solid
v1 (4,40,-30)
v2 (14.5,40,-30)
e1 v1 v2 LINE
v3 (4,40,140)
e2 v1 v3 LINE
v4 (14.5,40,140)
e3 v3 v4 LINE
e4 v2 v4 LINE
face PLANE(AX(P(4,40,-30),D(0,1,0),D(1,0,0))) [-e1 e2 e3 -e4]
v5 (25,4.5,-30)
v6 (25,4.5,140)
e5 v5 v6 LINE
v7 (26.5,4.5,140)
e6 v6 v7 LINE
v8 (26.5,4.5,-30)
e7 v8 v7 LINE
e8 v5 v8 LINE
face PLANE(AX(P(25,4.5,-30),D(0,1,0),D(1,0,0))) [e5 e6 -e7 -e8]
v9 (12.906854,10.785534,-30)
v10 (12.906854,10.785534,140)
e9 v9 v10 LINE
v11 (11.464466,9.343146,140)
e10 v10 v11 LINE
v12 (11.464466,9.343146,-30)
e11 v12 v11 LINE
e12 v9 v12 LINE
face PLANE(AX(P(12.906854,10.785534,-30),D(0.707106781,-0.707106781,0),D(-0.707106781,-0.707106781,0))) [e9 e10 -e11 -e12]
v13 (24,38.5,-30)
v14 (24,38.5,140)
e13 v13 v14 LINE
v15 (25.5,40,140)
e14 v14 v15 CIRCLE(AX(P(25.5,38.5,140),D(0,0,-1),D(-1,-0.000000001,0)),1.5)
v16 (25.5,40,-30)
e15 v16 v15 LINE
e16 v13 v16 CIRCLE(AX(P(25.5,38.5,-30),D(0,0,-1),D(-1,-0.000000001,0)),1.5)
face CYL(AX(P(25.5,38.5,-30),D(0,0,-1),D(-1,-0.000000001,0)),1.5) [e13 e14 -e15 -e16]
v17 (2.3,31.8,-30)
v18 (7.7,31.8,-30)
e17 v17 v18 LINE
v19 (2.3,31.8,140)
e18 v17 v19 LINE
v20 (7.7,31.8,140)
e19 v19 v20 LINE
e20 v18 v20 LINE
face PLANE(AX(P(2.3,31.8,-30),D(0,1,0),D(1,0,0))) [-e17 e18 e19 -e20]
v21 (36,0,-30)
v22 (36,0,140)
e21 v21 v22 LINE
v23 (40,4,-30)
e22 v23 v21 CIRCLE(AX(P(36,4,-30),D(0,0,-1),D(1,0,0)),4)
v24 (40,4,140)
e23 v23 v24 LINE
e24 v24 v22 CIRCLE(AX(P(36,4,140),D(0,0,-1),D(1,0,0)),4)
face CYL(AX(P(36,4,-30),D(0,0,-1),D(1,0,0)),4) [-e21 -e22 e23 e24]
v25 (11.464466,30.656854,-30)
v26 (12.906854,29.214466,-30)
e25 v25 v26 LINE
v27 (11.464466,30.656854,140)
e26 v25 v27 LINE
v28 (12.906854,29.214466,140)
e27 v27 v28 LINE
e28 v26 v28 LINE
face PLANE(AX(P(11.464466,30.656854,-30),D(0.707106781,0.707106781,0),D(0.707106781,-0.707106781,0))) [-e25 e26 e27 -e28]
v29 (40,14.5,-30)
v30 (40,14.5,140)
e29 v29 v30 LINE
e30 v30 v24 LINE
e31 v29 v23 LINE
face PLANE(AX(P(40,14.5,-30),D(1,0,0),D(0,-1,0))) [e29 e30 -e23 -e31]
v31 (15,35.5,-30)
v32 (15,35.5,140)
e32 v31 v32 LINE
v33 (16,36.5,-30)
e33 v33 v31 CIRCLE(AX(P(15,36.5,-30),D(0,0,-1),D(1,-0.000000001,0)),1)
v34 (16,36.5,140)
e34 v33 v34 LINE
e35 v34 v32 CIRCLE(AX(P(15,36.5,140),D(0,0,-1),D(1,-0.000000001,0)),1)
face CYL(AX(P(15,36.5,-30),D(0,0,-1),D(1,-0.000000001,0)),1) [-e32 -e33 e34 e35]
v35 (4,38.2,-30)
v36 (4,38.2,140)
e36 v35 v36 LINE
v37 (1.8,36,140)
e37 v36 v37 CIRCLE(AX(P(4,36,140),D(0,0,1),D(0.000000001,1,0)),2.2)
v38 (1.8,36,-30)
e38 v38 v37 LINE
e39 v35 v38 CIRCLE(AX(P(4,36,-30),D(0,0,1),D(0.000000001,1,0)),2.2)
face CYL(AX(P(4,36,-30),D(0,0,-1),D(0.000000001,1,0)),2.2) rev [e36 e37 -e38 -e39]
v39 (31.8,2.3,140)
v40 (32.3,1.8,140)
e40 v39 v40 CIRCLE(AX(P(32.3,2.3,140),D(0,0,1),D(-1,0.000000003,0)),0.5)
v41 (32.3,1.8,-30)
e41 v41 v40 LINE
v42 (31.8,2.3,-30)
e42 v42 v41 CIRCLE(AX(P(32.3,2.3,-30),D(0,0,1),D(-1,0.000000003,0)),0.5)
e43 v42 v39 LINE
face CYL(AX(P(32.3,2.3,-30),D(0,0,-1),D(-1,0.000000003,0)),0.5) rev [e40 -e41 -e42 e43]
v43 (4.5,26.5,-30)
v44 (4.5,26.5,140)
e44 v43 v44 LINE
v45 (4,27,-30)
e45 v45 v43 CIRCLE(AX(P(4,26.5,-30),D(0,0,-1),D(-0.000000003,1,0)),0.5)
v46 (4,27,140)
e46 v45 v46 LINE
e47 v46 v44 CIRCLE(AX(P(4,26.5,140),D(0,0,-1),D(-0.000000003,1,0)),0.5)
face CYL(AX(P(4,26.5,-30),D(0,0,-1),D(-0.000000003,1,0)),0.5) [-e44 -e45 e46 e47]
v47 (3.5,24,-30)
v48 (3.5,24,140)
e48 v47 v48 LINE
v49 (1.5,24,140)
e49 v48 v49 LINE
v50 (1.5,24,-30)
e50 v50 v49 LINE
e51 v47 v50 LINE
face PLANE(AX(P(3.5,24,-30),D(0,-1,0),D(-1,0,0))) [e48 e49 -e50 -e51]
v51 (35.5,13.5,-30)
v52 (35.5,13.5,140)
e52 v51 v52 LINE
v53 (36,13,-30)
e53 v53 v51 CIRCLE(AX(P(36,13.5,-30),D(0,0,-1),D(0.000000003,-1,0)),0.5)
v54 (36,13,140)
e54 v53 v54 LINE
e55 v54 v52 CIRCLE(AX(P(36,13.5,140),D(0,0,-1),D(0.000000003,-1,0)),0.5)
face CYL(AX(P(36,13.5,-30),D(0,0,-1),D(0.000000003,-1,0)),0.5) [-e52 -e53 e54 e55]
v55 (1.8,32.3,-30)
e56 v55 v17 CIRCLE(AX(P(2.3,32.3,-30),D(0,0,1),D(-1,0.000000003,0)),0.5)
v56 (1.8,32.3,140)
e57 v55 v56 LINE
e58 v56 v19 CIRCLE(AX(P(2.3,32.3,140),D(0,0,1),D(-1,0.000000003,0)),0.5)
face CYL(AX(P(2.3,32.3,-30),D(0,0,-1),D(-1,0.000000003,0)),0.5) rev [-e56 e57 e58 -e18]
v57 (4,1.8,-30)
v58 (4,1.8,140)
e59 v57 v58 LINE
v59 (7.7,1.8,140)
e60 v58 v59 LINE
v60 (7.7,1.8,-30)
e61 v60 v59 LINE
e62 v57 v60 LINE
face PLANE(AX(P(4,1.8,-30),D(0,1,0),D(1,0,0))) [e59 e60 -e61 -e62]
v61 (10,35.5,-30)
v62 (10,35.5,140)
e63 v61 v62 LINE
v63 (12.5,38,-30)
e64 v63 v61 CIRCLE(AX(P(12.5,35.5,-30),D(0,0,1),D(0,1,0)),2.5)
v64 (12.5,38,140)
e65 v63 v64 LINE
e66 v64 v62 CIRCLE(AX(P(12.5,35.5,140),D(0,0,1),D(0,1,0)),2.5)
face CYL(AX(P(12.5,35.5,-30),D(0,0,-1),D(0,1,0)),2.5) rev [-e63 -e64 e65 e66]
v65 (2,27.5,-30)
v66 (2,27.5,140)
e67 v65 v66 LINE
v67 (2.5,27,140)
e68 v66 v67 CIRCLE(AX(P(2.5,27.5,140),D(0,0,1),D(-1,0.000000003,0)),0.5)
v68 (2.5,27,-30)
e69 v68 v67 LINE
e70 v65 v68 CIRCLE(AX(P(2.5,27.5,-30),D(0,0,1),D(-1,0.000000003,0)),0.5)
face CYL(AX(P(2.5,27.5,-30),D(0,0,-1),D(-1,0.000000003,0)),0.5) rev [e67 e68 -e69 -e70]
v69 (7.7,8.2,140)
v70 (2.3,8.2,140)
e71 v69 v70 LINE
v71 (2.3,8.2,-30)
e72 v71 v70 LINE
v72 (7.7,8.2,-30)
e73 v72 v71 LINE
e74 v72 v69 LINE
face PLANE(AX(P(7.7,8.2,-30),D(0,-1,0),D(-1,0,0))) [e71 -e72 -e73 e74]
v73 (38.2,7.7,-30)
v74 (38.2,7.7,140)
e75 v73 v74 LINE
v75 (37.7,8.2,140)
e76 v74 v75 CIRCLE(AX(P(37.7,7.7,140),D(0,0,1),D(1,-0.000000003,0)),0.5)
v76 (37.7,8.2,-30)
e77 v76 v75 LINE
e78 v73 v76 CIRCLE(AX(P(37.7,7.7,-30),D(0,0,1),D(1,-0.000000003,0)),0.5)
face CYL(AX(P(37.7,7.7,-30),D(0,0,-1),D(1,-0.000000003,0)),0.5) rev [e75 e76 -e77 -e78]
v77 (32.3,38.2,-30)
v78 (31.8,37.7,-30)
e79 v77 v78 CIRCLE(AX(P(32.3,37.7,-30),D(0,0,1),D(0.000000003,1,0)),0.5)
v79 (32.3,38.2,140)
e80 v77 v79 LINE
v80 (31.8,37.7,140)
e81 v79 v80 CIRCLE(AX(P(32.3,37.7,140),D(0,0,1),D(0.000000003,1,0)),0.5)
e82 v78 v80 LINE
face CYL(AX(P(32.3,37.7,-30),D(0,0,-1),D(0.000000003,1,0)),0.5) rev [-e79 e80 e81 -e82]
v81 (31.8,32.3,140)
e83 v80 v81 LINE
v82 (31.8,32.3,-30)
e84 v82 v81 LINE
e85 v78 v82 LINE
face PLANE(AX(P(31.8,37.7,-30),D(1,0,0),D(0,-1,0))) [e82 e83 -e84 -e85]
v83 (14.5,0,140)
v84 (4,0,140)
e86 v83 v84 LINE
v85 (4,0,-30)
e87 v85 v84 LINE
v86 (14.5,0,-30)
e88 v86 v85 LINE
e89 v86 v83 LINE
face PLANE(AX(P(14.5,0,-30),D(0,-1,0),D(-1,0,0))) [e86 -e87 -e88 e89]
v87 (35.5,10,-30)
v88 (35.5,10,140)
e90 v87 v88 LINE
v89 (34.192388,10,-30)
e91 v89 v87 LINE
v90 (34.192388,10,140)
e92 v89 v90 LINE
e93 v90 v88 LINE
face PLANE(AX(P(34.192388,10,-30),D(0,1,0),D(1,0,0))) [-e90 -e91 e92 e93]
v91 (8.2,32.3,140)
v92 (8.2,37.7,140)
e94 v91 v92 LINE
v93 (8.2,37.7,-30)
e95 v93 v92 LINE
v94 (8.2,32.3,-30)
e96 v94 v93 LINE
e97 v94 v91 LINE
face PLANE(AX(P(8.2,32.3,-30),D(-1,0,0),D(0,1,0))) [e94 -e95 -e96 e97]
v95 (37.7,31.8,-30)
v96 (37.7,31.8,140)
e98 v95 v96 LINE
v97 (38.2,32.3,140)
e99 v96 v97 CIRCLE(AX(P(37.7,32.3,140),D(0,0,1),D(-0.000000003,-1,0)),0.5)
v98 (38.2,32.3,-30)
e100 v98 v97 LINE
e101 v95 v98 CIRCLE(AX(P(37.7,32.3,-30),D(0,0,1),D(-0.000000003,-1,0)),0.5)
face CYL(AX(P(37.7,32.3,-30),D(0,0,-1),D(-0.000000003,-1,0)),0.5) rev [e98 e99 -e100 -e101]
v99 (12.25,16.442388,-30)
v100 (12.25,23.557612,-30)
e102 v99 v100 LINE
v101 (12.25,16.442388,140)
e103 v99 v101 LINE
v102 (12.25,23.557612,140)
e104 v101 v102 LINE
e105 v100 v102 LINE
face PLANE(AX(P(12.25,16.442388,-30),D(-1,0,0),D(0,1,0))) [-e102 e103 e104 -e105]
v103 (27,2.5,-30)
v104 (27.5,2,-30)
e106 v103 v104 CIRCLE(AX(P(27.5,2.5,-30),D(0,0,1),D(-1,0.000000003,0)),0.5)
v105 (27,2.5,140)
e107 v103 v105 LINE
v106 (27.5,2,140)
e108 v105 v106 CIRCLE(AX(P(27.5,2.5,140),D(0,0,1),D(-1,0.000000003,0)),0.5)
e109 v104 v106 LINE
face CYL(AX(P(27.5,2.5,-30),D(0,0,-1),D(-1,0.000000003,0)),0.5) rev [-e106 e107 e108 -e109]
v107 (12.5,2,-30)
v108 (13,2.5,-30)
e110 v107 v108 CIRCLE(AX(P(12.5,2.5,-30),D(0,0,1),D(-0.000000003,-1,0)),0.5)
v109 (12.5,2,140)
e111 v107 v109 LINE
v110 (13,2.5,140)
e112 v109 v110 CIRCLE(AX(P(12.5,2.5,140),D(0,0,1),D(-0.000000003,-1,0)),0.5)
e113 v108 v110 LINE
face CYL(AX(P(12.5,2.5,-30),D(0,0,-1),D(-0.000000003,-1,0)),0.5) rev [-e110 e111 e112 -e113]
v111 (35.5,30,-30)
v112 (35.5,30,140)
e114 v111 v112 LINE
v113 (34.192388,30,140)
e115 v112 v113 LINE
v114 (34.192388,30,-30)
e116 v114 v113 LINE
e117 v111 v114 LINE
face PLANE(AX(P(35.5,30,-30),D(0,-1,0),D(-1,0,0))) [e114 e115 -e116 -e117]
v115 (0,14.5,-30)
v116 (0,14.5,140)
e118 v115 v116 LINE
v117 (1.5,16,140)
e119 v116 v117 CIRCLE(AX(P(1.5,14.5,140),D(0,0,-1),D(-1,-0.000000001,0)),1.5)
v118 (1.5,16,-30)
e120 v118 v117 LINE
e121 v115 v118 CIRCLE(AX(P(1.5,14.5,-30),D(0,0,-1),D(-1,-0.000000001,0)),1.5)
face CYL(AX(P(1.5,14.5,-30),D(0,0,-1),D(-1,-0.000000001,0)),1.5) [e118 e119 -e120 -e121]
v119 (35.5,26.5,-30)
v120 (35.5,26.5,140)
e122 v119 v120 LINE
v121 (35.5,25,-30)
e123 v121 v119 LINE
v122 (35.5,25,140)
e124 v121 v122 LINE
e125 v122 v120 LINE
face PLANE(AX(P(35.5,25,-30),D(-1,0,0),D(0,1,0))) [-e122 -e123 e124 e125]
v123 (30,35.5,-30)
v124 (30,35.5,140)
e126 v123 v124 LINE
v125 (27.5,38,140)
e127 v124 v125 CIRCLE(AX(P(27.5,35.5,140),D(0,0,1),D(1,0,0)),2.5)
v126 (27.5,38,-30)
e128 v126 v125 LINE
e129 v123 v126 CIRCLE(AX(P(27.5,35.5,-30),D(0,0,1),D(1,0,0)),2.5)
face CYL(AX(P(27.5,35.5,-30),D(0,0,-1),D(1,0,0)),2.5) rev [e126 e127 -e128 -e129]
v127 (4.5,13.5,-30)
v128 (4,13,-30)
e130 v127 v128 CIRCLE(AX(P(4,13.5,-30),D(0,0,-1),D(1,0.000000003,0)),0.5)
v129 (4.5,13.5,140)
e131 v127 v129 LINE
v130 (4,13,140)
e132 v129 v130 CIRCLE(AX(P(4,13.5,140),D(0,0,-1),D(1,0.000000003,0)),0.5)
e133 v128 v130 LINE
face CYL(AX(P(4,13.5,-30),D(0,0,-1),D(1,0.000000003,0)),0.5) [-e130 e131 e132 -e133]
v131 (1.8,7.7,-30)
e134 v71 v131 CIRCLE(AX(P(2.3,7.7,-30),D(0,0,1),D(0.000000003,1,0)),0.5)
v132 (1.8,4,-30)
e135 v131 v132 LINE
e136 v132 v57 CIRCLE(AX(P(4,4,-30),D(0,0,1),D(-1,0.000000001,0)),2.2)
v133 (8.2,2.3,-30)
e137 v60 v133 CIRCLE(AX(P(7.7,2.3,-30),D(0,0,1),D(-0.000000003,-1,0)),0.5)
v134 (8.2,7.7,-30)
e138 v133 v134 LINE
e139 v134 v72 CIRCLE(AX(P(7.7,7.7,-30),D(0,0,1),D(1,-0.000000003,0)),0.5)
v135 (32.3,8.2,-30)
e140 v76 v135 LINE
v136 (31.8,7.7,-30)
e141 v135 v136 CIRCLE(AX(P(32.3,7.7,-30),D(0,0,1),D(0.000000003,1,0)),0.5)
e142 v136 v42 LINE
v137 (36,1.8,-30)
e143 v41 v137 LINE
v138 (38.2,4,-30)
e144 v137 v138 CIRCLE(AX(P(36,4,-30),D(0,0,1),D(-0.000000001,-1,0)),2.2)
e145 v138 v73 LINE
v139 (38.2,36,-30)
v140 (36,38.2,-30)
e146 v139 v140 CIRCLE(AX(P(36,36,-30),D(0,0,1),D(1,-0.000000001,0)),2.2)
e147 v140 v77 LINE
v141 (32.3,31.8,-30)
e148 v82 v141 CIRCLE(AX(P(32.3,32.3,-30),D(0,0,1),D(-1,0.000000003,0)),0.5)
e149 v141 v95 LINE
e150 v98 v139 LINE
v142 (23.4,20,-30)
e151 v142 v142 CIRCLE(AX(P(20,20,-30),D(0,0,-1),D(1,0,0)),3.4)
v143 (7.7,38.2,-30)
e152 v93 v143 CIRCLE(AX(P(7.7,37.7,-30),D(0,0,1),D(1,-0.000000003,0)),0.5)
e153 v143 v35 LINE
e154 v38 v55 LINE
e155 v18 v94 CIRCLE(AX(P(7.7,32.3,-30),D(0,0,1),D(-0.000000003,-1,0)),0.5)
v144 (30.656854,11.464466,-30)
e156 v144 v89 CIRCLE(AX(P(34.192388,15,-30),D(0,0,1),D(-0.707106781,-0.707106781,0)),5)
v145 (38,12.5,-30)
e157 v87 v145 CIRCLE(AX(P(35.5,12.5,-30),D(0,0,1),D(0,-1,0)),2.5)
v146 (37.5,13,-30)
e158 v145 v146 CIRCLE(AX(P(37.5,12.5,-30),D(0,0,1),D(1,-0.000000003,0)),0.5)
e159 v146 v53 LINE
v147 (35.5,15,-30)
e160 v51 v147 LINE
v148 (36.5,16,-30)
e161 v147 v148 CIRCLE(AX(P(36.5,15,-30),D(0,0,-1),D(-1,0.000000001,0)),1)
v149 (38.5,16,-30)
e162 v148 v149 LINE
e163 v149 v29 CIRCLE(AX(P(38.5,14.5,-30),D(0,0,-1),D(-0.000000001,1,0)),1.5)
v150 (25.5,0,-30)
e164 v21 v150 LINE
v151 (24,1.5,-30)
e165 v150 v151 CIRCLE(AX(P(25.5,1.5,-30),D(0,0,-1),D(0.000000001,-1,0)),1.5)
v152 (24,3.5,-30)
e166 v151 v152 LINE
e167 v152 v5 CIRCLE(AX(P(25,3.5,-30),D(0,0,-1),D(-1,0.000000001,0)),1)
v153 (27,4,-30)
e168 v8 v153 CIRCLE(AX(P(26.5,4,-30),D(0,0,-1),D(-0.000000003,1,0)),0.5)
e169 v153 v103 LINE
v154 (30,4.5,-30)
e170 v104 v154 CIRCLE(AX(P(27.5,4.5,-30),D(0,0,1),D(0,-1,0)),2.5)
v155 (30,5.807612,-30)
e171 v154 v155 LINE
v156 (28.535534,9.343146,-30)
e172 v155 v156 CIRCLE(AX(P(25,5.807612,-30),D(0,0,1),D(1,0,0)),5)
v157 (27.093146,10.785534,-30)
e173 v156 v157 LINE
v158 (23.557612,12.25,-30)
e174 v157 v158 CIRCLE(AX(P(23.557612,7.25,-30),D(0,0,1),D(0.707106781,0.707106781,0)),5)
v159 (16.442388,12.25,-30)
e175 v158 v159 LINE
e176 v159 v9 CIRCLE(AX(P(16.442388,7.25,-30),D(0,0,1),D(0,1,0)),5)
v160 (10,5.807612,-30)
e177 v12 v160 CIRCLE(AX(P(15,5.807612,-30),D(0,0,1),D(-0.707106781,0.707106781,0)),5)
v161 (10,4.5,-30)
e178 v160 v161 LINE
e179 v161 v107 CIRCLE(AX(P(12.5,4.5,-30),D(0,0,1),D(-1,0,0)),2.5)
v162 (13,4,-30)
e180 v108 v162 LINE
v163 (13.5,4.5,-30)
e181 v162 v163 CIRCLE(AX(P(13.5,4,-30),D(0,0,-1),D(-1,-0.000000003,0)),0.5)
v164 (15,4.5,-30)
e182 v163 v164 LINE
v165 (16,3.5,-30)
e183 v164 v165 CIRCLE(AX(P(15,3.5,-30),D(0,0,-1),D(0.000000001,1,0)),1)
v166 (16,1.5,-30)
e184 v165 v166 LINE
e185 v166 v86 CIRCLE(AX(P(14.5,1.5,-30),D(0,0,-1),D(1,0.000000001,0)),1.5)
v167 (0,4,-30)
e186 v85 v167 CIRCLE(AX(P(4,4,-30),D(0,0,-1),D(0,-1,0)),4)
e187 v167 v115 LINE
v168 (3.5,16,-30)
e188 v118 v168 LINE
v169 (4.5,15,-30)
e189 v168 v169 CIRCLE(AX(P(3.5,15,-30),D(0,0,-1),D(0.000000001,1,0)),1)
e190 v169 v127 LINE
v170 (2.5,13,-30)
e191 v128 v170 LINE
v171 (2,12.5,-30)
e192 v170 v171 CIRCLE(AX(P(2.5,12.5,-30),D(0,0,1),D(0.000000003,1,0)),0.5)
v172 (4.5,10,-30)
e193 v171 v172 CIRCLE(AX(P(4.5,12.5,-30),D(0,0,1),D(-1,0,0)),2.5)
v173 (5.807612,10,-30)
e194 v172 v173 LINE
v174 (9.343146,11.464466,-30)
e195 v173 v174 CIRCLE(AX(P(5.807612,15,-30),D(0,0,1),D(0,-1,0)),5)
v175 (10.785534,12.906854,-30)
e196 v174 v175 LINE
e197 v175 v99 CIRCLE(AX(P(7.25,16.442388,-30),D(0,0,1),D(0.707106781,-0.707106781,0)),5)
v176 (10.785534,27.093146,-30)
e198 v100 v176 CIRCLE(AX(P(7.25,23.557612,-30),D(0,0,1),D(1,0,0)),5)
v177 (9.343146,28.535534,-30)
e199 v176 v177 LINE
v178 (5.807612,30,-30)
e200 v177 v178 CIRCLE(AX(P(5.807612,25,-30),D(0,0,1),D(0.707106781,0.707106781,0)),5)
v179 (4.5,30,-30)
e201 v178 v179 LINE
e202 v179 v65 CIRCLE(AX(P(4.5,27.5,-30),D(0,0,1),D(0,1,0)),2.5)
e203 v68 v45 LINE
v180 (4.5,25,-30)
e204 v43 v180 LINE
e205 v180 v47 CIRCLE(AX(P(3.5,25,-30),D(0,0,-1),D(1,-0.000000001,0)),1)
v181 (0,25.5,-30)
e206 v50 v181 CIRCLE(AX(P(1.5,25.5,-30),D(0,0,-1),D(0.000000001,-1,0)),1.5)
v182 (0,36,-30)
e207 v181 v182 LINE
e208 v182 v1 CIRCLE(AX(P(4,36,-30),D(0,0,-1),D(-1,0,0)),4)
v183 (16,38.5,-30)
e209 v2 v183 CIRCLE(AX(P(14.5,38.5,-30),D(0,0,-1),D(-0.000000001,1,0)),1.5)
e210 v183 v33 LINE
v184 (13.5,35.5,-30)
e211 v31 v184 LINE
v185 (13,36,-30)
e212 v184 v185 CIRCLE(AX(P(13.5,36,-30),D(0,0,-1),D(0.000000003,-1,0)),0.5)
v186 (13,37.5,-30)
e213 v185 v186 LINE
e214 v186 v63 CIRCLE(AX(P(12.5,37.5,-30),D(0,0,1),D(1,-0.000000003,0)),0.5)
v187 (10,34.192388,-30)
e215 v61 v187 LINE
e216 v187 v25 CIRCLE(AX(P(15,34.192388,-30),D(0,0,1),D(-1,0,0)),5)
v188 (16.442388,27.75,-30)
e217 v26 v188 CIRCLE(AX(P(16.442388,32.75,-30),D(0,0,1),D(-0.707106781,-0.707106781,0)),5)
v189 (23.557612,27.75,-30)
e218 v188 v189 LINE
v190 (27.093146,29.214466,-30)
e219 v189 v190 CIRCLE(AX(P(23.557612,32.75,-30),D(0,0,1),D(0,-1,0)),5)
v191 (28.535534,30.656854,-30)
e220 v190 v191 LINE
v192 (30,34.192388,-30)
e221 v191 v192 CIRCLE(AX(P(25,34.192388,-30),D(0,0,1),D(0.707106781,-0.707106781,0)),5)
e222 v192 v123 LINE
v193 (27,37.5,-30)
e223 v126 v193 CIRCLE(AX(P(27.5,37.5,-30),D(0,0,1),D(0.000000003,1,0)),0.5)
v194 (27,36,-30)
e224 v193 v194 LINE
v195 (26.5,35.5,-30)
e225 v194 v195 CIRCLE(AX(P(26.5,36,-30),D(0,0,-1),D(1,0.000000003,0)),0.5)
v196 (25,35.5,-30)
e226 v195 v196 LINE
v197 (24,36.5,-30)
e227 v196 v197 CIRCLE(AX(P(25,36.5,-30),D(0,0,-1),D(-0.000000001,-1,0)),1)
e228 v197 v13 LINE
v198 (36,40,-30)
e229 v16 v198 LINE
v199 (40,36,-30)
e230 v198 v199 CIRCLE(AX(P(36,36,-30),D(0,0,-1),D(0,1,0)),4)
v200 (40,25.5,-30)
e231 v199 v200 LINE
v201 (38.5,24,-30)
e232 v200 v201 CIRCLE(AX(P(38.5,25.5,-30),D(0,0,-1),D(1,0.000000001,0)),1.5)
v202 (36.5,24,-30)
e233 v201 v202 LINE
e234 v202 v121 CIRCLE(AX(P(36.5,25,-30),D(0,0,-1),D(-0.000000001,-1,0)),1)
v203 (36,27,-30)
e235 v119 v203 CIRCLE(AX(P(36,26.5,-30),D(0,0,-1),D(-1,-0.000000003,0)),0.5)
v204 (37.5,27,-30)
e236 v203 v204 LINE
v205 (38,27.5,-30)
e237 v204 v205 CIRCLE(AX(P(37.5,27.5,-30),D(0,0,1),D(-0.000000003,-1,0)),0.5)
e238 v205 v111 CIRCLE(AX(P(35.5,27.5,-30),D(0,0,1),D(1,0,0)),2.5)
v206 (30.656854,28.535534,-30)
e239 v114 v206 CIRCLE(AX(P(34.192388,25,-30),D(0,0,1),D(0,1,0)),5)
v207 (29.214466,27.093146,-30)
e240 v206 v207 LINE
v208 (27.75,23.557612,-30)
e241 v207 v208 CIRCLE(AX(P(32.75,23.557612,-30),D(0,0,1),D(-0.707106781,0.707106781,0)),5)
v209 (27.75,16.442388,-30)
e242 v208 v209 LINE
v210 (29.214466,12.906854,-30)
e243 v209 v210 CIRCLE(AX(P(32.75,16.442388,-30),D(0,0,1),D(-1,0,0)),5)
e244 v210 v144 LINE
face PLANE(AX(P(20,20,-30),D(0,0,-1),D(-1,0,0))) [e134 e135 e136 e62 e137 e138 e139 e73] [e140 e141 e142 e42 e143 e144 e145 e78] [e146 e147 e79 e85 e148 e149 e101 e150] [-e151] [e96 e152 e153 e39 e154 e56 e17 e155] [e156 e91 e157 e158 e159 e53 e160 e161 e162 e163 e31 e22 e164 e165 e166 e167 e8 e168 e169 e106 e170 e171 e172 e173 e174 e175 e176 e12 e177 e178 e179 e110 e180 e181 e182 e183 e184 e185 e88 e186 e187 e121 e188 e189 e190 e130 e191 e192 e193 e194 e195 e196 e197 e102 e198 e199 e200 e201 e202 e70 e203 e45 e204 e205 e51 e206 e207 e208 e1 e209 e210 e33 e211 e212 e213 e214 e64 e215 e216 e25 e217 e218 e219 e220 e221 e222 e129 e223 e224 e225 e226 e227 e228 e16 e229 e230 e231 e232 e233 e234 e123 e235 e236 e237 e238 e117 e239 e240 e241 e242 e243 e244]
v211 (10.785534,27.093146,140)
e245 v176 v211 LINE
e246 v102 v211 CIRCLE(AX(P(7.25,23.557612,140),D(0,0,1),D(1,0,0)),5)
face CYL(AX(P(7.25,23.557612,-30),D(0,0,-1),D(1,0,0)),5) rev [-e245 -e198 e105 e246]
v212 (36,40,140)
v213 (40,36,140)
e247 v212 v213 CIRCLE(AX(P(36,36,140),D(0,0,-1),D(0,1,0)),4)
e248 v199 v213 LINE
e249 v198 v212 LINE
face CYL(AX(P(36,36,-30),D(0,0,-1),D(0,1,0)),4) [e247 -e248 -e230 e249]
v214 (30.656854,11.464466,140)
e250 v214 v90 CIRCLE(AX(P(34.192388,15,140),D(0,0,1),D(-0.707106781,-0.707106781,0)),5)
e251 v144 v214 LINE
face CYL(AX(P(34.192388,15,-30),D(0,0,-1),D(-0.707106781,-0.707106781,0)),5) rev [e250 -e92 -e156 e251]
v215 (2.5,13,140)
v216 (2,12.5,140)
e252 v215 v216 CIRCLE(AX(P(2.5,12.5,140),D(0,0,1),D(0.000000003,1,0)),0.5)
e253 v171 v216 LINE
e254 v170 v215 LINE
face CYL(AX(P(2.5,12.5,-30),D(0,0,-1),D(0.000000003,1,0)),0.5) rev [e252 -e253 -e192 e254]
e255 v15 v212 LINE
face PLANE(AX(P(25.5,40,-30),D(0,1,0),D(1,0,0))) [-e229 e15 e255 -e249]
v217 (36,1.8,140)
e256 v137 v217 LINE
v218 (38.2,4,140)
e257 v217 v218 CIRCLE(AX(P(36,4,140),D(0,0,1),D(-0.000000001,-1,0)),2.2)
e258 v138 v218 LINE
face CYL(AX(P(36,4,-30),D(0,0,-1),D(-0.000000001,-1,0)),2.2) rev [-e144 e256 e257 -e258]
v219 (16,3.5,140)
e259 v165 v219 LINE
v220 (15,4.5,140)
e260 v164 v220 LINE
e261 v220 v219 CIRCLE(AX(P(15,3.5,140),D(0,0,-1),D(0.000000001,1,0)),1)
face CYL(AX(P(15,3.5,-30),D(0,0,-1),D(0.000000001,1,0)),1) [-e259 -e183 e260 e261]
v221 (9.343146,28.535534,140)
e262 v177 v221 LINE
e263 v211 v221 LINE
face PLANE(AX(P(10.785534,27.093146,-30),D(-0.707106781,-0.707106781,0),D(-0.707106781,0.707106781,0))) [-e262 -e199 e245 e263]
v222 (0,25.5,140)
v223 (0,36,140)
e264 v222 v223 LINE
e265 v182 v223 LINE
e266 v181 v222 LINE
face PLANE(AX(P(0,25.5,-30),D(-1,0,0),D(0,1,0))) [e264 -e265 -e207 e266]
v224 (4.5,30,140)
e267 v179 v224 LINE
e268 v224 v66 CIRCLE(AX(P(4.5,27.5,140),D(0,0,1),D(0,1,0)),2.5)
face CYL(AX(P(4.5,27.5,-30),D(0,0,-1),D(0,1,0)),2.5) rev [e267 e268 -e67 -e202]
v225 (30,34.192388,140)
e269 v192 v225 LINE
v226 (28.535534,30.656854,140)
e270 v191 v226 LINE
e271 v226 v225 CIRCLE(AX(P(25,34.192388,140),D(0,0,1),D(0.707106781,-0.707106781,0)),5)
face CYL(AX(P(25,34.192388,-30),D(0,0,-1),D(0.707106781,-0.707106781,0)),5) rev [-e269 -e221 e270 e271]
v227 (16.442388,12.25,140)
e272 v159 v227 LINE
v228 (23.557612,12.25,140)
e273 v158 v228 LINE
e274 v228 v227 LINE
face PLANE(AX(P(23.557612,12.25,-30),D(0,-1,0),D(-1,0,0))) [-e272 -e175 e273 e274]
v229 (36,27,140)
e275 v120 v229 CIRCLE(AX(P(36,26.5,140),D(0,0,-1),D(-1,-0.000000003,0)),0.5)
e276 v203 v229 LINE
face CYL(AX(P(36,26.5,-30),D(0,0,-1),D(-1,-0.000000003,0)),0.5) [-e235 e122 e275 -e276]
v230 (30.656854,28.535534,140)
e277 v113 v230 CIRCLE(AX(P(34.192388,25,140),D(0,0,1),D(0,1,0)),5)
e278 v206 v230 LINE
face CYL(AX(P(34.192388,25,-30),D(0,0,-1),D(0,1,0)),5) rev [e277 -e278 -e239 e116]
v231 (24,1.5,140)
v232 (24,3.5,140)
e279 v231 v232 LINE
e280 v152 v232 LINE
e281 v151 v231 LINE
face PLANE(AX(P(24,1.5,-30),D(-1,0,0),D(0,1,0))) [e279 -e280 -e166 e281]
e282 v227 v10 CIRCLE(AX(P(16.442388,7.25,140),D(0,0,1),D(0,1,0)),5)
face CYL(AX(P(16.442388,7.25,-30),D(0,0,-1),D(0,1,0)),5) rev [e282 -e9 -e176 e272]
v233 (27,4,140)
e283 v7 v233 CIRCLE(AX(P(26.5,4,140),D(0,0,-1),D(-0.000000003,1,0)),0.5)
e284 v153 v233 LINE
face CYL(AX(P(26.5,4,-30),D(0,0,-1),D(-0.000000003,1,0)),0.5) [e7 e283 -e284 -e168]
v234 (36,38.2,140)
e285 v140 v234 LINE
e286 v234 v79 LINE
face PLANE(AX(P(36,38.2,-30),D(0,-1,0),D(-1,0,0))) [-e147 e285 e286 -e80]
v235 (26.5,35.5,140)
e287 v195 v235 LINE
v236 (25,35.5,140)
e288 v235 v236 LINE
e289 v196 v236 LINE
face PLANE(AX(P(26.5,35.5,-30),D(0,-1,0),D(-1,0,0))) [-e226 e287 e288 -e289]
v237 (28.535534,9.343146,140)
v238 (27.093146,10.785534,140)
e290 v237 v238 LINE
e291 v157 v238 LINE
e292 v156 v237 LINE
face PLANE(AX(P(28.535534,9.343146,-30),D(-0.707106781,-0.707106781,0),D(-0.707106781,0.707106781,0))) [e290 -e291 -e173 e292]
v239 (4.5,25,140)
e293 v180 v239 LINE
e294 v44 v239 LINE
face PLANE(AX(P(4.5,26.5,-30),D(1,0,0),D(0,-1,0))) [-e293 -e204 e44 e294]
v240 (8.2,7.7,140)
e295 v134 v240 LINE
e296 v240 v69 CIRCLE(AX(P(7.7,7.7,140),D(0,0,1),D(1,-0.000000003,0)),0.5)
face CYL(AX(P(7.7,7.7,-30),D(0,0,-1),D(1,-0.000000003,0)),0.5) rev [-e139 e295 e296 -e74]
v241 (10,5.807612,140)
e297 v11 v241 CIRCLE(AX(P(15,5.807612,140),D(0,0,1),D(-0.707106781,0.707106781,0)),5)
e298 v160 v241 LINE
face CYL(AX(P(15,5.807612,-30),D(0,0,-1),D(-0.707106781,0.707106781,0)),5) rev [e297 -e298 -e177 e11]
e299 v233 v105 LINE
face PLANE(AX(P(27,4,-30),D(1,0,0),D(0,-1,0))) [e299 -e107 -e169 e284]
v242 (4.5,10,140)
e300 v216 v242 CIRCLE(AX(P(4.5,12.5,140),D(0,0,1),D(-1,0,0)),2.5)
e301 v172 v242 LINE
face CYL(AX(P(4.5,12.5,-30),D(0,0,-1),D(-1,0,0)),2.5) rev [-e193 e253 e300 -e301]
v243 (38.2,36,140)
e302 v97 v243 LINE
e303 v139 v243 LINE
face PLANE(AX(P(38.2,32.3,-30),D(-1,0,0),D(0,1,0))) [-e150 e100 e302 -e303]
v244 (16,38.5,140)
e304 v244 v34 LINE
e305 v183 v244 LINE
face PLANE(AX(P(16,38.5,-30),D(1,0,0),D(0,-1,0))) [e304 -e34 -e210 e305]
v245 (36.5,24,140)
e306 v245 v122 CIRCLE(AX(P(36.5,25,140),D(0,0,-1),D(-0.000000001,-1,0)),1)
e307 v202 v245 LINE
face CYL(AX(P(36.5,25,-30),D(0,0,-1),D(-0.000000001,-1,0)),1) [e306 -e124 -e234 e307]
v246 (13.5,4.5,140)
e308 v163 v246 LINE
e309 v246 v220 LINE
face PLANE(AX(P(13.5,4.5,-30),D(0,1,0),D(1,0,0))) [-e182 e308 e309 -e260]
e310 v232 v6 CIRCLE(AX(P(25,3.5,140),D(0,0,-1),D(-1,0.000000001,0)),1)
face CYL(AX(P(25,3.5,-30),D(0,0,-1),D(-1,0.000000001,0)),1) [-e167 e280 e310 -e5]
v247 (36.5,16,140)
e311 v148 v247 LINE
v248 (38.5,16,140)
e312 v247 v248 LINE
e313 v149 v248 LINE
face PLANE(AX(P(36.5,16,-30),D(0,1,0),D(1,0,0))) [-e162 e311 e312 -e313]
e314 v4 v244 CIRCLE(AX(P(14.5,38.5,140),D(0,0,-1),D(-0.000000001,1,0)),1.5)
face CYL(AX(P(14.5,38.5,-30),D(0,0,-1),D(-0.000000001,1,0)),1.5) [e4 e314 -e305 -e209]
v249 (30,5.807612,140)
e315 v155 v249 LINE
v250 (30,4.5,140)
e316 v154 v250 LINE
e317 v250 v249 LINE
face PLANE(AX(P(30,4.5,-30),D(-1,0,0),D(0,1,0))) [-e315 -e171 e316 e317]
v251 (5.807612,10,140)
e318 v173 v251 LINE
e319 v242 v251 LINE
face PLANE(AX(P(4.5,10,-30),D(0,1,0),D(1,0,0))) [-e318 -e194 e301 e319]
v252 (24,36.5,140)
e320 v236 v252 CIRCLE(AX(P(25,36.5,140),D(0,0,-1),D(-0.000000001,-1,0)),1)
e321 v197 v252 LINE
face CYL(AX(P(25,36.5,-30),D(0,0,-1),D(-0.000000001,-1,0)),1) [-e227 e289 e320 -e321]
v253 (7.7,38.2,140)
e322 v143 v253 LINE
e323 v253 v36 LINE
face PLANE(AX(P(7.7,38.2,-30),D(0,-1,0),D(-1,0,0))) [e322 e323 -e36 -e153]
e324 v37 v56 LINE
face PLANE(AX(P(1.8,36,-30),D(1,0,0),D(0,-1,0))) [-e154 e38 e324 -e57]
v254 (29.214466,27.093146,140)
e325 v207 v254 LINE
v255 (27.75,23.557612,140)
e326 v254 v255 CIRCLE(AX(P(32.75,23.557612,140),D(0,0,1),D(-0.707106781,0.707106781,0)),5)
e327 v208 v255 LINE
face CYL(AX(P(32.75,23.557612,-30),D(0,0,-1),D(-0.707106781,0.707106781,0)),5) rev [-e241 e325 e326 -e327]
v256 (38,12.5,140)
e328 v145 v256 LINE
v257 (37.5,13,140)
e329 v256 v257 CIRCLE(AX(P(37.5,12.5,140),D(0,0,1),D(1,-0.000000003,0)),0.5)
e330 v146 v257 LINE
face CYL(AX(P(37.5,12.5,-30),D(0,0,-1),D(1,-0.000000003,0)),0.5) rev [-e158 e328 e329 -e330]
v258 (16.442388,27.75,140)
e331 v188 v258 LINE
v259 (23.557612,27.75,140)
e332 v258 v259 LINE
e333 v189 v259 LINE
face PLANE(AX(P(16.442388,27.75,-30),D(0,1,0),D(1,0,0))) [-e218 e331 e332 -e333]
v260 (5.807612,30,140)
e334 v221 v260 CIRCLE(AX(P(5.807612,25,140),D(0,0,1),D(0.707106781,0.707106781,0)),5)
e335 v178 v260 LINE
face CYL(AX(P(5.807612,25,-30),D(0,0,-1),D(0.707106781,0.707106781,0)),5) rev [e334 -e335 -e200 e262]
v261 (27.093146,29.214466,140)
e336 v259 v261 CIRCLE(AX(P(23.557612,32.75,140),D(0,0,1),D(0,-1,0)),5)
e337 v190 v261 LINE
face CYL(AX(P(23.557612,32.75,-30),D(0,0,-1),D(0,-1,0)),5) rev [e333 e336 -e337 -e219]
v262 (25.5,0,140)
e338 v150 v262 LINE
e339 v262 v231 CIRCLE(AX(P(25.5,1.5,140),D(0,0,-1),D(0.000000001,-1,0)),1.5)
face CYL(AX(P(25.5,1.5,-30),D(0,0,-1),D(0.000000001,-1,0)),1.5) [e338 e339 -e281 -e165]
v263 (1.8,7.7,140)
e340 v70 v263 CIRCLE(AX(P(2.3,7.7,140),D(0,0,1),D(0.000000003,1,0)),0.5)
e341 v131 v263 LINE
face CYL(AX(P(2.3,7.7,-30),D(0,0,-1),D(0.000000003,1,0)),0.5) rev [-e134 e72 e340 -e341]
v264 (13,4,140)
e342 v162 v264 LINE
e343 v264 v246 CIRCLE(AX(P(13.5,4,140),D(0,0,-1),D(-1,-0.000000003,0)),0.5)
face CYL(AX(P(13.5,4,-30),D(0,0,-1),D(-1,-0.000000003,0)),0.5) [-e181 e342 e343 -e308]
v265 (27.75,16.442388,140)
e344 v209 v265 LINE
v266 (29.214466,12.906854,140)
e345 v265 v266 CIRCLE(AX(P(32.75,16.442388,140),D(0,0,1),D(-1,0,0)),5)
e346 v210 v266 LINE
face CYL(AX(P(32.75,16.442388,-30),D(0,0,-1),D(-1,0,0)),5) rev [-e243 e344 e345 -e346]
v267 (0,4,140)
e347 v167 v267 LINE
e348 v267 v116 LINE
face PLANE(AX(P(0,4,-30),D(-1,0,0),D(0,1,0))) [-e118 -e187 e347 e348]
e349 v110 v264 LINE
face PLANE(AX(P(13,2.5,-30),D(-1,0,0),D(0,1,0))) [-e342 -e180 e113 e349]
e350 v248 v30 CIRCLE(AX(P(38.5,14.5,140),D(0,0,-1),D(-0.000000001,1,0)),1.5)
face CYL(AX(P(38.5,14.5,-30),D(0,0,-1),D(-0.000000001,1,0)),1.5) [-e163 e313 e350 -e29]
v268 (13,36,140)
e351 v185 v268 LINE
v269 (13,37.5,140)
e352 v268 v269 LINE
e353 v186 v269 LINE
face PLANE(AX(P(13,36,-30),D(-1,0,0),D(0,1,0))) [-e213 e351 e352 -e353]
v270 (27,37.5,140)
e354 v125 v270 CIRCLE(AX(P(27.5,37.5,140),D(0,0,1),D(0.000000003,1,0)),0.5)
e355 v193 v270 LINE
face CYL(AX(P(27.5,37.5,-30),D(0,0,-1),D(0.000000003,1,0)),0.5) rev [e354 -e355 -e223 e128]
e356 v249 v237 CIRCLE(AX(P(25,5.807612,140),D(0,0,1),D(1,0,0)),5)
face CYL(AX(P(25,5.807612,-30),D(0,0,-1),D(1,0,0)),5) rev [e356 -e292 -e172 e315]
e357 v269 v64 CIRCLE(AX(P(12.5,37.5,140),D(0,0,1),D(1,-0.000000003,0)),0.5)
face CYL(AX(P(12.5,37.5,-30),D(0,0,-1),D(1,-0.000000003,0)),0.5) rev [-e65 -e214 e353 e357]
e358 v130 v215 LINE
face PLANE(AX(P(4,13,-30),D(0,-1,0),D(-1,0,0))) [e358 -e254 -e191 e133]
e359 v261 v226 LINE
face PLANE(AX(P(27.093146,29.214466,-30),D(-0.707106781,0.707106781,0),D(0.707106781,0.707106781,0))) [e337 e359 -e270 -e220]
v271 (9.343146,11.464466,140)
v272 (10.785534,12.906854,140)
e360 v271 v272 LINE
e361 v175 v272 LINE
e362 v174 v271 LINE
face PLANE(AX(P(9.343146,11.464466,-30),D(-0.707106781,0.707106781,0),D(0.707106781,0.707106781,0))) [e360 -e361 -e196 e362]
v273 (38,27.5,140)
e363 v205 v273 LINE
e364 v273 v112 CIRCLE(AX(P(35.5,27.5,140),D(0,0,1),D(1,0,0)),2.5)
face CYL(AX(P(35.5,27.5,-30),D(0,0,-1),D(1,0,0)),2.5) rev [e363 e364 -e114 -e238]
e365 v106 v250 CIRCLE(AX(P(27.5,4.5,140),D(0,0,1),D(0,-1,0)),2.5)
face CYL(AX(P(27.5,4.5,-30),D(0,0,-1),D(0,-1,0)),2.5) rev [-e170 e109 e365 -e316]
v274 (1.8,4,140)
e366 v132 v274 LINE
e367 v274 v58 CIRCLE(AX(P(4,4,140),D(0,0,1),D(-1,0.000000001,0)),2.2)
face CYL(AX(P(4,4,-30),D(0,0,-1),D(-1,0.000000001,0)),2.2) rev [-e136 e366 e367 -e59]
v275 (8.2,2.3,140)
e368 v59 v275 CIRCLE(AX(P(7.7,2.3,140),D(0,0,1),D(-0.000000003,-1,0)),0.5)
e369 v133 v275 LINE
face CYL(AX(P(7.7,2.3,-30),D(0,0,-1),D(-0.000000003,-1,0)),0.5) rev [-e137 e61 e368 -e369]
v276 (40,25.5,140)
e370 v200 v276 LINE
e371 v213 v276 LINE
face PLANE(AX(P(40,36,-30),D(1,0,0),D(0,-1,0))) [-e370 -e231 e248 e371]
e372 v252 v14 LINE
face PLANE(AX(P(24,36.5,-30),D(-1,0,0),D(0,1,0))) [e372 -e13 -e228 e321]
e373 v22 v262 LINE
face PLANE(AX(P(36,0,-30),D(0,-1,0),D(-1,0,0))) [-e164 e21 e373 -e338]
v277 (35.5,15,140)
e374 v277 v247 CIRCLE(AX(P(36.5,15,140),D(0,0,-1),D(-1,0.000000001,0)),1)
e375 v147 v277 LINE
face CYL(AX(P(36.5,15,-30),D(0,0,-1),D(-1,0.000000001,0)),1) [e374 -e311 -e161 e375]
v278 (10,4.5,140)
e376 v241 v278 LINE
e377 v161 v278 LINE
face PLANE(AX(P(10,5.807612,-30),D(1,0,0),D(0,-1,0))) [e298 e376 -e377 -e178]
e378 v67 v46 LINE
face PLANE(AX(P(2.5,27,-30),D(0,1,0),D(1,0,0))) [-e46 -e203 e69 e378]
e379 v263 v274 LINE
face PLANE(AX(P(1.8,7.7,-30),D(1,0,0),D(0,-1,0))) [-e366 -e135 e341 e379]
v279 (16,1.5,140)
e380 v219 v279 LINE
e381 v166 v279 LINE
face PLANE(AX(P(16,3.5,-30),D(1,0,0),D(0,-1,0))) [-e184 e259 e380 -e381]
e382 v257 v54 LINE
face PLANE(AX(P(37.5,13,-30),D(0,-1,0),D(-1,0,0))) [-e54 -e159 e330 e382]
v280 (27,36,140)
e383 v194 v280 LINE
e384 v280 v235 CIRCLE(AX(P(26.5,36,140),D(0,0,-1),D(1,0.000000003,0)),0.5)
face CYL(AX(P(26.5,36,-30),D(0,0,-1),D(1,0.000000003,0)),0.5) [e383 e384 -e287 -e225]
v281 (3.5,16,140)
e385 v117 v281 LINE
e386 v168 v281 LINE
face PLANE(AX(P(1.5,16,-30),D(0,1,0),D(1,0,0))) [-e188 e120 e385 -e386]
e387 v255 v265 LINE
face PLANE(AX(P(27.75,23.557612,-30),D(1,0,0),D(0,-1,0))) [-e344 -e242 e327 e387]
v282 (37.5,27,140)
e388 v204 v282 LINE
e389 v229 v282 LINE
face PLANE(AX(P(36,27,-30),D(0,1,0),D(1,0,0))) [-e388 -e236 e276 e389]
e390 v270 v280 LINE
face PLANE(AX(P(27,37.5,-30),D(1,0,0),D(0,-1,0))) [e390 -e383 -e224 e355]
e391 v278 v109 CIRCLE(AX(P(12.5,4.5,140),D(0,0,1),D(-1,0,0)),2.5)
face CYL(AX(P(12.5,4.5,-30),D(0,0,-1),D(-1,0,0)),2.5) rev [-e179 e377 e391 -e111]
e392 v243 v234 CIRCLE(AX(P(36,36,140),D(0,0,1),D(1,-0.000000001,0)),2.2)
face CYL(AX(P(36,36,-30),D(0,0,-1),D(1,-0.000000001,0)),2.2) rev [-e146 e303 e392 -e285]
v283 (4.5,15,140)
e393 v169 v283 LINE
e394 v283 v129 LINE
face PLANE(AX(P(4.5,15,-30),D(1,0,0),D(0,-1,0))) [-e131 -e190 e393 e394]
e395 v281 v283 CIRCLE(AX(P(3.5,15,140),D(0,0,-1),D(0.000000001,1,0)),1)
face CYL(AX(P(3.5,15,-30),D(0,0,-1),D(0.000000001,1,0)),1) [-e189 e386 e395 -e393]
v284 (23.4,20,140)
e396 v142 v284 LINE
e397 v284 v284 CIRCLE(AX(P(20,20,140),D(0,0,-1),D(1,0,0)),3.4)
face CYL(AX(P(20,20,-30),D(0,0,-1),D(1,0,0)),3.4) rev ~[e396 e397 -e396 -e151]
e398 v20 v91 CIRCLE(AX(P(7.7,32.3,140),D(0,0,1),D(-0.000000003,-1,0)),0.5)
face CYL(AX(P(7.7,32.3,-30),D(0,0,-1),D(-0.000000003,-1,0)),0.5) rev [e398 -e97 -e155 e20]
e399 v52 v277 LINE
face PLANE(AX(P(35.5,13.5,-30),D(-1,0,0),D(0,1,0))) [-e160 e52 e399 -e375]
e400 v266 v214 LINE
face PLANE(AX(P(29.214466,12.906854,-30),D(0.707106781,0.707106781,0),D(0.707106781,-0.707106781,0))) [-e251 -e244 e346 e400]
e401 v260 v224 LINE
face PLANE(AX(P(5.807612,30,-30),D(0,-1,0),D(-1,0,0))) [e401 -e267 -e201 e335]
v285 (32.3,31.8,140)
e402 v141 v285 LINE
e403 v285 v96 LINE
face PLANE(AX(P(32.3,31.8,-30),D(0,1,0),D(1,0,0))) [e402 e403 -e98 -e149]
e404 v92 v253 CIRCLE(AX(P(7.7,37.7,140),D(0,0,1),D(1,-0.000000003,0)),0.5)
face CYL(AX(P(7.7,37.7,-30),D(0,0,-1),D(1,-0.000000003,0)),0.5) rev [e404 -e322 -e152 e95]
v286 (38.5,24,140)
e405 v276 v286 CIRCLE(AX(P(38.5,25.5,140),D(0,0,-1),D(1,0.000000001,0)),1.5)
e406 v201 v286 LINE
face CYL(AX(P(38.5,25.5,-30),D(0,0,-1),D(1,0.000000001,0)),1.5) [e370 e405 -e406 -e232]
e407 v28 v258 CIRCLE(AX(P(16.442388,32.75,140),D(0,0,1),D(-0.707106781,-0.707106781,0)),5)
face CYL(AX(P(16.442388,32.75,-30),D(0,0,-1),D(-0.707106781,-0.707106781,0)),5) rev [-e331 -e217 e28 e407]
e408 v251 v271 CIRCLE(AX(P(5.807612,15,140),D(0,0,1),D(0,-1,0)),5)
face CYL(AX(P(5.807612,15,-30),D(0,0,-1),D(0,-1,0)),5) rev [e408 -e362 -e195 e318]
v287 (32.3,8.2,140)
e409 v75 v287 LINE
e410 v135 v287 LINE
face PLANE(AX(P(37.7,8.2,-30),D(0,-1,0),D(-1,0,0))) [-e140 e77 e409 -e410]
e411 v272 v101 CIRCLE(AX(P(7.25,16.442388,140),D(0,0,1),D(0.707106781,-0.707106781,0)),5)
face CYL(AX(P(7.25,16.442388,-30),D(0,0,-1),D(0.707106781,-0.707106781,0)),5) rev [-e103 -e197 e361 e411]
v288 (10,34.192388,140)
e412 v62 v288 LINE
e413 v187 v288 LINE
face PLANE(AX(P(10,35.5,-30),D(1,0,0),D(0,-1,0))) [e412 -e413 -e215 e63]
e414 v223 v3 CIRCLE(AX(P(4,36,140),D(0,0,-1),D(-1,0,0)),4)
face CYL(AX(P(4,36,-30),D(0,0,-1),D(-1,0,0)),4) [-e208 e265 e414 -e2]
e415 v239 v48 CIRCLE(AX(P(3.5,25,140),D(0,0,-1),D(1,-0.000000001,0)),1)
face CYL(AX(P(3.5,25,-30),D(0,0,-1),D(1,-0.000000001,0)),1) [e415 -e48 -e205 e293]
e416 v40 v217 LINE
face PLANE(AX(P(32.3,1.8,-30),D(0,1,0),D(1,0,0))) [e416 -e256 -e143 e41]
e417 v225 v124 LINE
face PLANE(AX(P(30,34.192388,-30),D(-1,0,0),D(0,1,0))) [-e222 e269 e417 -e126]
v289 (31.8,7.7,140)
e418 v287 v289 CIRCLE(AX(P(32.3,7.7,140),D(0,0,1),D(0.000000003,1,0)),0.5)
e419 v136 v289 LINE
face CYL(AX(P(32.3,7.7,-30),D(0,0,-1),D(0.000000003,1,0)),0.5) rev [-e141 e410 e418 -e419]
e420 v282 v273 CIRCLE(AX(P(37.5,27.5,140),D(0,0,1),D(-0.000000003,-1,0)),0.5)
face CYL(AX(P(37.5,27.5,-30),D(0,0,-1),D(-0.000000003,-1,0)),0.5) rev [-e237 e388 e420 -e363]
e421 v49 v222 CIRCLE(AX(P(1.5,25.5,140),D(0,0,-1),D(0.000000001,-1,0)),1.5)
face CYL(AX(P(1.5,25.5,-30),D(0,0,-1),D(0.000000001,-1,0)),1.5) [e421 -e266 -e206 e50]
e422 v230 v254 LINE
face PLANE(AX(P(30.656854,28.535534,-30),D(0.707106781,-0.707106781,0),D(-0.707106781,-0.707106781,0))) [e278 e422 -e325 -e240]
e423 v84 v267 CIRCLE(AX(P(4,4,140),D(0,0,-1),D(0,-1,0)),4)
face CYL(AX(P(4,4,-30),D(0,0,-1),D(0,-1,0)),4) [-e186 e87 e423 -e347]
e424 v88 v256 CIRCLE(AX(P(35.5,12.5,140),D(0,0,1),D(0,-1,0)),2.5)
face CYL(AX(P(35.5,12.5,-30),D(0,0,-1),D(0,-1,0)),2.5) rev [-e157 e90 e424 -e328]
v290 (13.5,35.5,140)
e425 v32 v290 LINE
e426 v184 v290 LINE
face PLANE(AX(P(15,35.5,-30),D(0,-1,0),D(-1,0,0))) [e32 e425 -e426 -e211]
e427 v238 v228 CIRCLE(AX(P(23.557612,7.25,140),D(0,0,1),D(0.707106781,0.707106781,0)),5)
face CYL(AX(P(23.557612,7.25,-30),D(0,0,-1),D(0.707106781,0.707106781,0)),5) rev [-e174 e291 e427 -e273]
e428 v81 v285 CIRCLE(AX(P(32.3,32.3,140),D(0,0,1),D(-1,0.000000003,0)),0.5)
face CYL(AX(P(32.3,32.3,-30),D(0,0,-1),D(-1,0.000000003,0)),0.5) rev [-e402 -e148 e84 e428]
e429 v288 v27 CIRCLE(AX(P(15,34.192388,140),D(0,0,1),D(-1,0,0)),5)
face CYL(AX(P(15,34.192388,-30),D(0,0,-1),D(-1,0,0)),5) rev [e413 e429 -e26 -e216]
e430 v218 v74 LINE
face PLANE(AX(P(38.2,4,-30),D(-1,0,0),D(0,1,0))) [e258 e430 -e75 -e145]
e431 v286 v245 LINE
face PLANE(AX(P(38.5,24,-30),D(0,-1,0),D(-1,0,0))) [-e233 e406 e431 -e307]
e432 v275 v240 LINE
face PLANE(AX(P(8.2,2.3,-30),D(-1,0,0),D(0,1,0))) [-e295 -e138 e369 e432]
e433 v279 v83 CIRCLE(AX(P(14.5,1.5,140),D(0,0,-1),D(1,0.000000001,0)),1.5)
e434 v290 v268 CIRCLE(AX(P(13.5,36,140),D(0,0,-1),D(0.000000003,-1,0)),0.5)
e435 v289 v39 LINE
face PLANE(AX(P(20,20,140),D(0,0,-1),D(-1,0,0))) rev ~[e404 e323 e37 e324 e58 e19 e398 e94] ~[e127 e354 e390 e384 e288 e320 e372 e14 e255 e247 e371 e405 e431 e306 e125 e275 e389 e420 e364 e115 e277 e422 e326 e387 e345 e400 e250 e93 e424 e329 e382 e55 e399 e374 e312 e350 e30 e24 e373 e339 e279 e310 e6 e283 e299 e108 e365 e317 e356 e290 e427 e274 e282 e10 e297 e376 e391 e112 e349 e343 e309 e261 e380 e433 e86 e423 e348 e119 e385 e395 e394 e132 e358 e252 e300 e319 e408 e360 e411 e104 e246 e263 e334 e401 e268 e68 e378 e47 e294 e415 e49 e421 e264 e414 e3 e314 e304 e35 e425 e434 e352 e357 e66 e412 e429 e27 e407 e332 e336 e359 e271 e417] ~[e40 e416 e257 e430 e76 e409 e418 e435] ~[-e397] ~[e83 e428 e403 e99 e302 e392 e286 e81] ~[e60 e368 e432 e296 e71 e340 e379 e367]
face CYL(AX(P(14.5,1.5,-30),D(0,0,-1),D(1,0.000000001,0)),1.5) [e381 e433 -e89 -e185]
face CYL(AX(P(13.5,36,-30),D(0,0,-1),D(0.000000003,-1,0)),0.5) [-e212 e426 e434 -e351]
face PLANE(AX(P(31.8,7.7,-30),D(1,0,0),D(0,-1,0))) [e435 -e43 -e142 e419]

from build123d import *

# Parameters (mm, degrees)
ESQUISSE1_R        = 3.4
BOSS_EXTRU_1_DEPTH = 170


with BuildPart() as part:
    # Esquisse1 → Boss.-Extru.1 (new body)
    with BuildSketch(Plane(origin=(0, 0, -30), x_dir=(-1, 0, 0), z_dir=(0, 0, -1))):
        with BuildLine():
            Line((-4.5, 15), (-4.5, 13.5))
            ThreePointArc((-4.5, 13.5), (-4.353553391, 13.146446609), (-4, 13))
            Line((-4, 13), (-2.5, 13))
            ThreePointArc((-2.5, 13), (-2.146446609, 12.853553391), (-2, 12.5))
            ThreePointArc((-2, 12.5), (-2.732233047, 10.732233047), (-4.5, 10))
            Line((-4.5, 10), (-5.807611845, 10))
            ThreePointArc((-5.807611845, 10), (-7.721029006, 10.380602337), (-9.343145751, 11.464466094))
            Line((-9.343145751, 11.464466094), (-10.785533906, 12.906854249))
            ThreePointArc((-10.785533906, 12.906854249), (-11.869397663, 14.528970994), (-12.25, 16.442388155))
            Line((-12.25, 16.442388155), (-12.25, 23.557611845))
            ThreePointArc((-12.25, 23.557611845), (-11.869397663, 25.471029006), (-10.785533906, 27.093145751))
            Line((-10.785533906, 27.093145751), (-9.343145751, 28.535533906))
            ThreePointArc((-9.343145751, 28.535533906), (-7.721029006, 29.619397663), (-5.807611845, 30))
            Line((-5.807611845, 30), (-4.5, 30))
            ThreePointArc((-4.5, 30), (-2.732233047, 29.267766953), (-2, 27.5))
            ThreePointArc((-2, 27.5), (-2.146446609, 27.146446609), (-2.5, 27))
            Line((-2.5, 27), (-4, 27))
            ThreePointArc((-4, 27), (-4.353553391, 26.853553391), (-4.5, 26.5))
            Line((-4.5, 26.5), (-4.5, 25))
            ThreePointArc((-4.5, 25), (-4.207106781, 24.292893219), (-3.5, 24))
            Line((-3.5, 24), (-1.5, 24))
            ThreePointArc((-1.5, 24), (-0.439339828, 24.439339828), (0, 25.5))
            Line((0, 25.5), (0, 36))
            ThreePointArc((0, 36), (-1.171572875, 38.828427125), (-4, 40))
            Line((-4, 40), (-14.5, 40))
            ThreePointArc((-14.5, 40), (-15.560660172, 39.560660172), (-16, 38.5))
            Line((-16, 38.5), (-16, 36.5))
            ThreePointArc((-16, 36.5), (-15.707106781, 35.792893219), (-15, 35.5))
            Line((-15, 35.5), (-13.5, 35.5))
            ThreePointArc((-13.5, 35.5), (-13.146446609, 35.646446609), (-13, 36))
            Line((-13, 36), (-13, 37.5))
            ThreePointArc((-13, 37.5), (-12.853553391, 37.853553391), (-12.5, 38))
            ThreePointArc((-12.5, 38), (-10.732233047, 37.267766953), (-10, 35.5))
            Line((-10, 35.5), (-10, 34.192388155))
            ThreePointArc((-10, 34.192388155), (-10.380602337, 32.278970994), (-11.464466094, 30.656854249))
            Line((-11.464466094, 30.656854249), (-12.906854249, 29.214466094))
            ThreePointArc((-12.906854249, 29.214466094), (-14.528970994, 28.130602337), (-16.442388155, 27.75))
            Line((-16.442388155, 27.75), (-23.557611845, 27.75))
            ThreePointArc((-23.557611845, 27.75), (-25.471029006, 28.130602337), (-27.093145751, 29.214466094))
            Line((-27.093145751, 29.214466094), (-28.535533906, 30.656854249))
            ThreePointArc((-28.535533906, 30.656854249), (-29.619397663, 32.278970994), (-30, 34.192388155))
            Line((-30, 34.192388155), (-30, 35.5))
            ThreePointArc((-30, 35.5), (-29.267766953, 37.267766953), (-27.5, 38))
            ThreePointArc((-27.5, 38), (-27.146446609, 37.853553391), (-27, 37.5))
            Line((-27, 37.5), (-27, 36))
            ThreePointArc((-27, 36), (-26.853553391, 35.646446609), (-26.5, 35.5))
            Line((-26.5, 35.5), (-25, 35.5))
            ThreePointArc((-25, 35.5), (-24.292893219, 35.792893219), (-24, 36.5))
            Line((-24, 36.5), (-24, 38.5))
            ThreePointArc((-24, 38.5), (-24.439339828, 39.560660172), (-25.5, 40))
            Line((-25.5, 40), (-36, 40))
            ThreePointArc((-36, 40), (-38.828427125, 38.828427125), (-40, 36))
            Line((-40, 36), (-40, 25.5))
            ThreePointArc((-40, 25.5), (-39.560660172, 24.439339828), (-38.5, 24))
            Line((-38.5, 24), (-36.5, 24))
            ThreePointArc((-36.5, 24), (-35.792893219, 24.292893219), (-35.5, 25))
            Line((-35.5, 25), (-35.5, 26.5))
            ThreePointArc((-35.5, 26.5), (-35.646446609, 26.853553391), (-36, 27))
            Line((-36, 27), (-37.5, 27))
            ThreePointArc((-37.5, 27), (-37.853553391, 27.146446609), (-38, 27.5))
            ThreePointArc((-38, 27.5), (-37.267766953, 29.267766953), (-35.5, 30))
            Line((-35.5, 30), (-34.192388155, 30))
            ThreePointArc((-34.192388155, 30), (-32.278970994, 29.619397663), (-30.656854249, 28.535533906))
            Line((-30.656854249, 28.535533906), (-29.214466094, 27.093145751))
            ThreePointArc((-29.214466094, 27.093145751), (-28.130602337, 25.471029006), (-27.75, 23.557611845))
            Line((-27.75, 23.557611845), (-27.75, 16.442388155))
            ThreePointArc((-27.75, 16.442388155), (-28.130602337, 14.528970994), (-29.214466094, 12.906854249))
            Line((-29.214466094, 12.906854249), (-30.656854249, 11.464466094))
            ThreePointArc((-30.656854249, 11.464466094), (-32.278970994, 10.380602337), (-34.192388155, 10))
            Line((-34.192388155, 10), (-35.5, 10))
            ThreePointArc((-35.5, 10), (-37.267766953, 10.732233047), (-38, 12.5))
            ThreePointArc((-38, 12.5), (-37.853553391, 12.853553391), (-37.5, 13))
            Line((-37.5, 13), (-36, 13))
            ThreePointArc((-36, 13), (-35.646446609, 13.146446609), (-35.5, 13.5))
            Line((-35.5, 13.5), (-35.5, 15))
            ThreePointArc((-35.5, 15), (-35.792893219, 15.707106781), (-36.5, 16))
            Line((-36.5, 16), (-38.5, 16))
            ThreePointArc((-38.5, 16), (-39.560660172, 15.560660172), (-40, 14.5))
            Line((-40, 14.5), (-40, 4))
            ThreePointArc((-40, 4), (-38.828427125, 1.171572875), (-36, 0))
            Line((-36, 0), (-25.5, 0))
            ThreePointArc((-25.5, 0), (-24.439339828, 0.439339828), (-24, 1.5))
            Line((-24, 1.5), (-24, 3.5))
            ThreePointArc((-24, 3.5), (-24.292893219, 4.207106781), (-25, 4.5))
            Line((-25, 4.5), (-26.5, 4.5))
            ThreePointArc((-26.5, 4.5), (-26.853553391, 4.353553391), (-27, 4))
            Line((-27, 4), (-27, 2.5))
            ThreePointArc((-27, 2.5), (-27.146446609, 2.146446609), (-27.5, 2))
            ThreePointArc((-27.5, 2), (-29.267766953, 2.732233047), (-30, 4.5))
            Line((-30, 4.5), (-30, 5.807611845))
            ThreePointArc((-30, 5.807611845), (-29.619397663, 7.721029006), (-28.535533906, 9.343145751))
            Line((-28.535533906, 9.343145751), (-27.093145751, 10.785533906))
            ThreePointArc((-27.093145751, 10.785533906), (-25.471029006, 11.869397663), (-23.557611845, 12.25))
            Line((-23.557611845, 12.25), (-16.442388155, 12.25))
            ThreePointArc((-16.442388155, 12.25), (-14.528970994, 11.869397663), (-12.906854249, 10.785533906))
            Line((-12.906854249, 10.785533906), (-11.464466094, 9.343145751))
            ThreePointArc((-11.464466094, 9.343145751), (-10.380602337, 7.721029006), (-10, 5.807611845))
            Line((-10, 5.807611845), (-10, 4.5))
            ThreePointArc((-10, 4.5), (-10.732233047, 2.732233047), (-12.5, 2))
            ThreePointArc((-12.5, 2), (-12.853553391, 2.146446609), (-13, 2.5))
            Line((-13, 2.5), (-13, 4))
            ThreePointArc((-13, 4), (-13.146446609, 4.353553391), (-13.5, 4.5))
            Line((-13.5, 4.5), (-15, 4.5))
            ThreePointArc((-15, 4.5), (-15.707106781, 4.207106781), (-16, 3.5))
            Line((-16, 3.5), (-16, 1.5))
            ThreePointArc((-16, 1.5), (-15.560660172, 0.439339828), (-14.5, 0))
            Line((-14.5, 0), (-4, 0))
            ThreePointArc((-4, 0), (-1.171572875, 1.171572875), (0, 4))
            Line((0, 4), (0, 14.5))
            ThreePointArc((0, 14.5), (-0.439339828, 15.560660172), (-1.5, 16))
            Line((-1.5, 16), (-3.5, 16))
            ThreePointArc((-3.5, 16), (-4.207106781, 15.707106781), (-4.5, 15))
        make_face()
        with Locations(Location((-20, 20, 0), (0, 0, 180))):
            Circle(ESQUISSE1_R, mode=Mode.SUBTRACT)
        with BuildLine():
            Line((-4, 1.8), (-7.7, 1.8))
            ThreePointArc((-7.7, 1.8), (-8.053553391, 1.946446609), (-8.2, 2.3))
            Line((-8.2, 2.3), (-8.2, 7.7))
            ThreePointArc((-8.2, 7.7), (-8.053553391, 8.053553391), (-7.7, 8.2))
            Line((-7.7, 8.2), (-2.3, 8.2))
            ThreePointArc((-2.3, 8.2), (-1.946446609, 8.053553391), (-1.8, 7.7))
            Line((-1.8, 7.7), (-1.8, 4))
            ThreePointArc((-1.8, 4), (-2.444365081, 2.444365081), (-4, 1.8))
        make_face(mode=Mode.SUBTRACT)
        with BuildLine():
            Line((-38.2, 4), (-38.2, 7.7))
            ThreePointArc((-38.2, 7.7), (-38.053553391, 8.053553391), (-37.7, 8.2))
            Line((-37.7, 8.2), (-32.3, 8.2))
            ThreePointArc((-32.3, 8.2), (-31.946446609, 8.053553391), (-31.8, 7.7))
            Line((-31.8, 7.7), (-31.8, 2.3))
            ThreePointArc((-31.8, 2.3), (-31.946446609, 1.946446609), (-32.3, 1.8))
            Line((-32.3, 1.8), (-36, 1.8))
            ThreePointArc((-36, 1.8), (-37.555634919, 2.444365081), (-38.2, 4))
        make_face(mode=Mode.SUBTRACT)
        with BuildLine():
            Line((-36, 38.2), (-32.3, 38.2))
            ThreePointArc((-32.3, 38.2), (-31.946446609, 38.053553391), (-31.8, 37.7))
            Line((-31.8, 37.7), (-31.8, 32.3))
            ThreePointArc((-31.8, 32.3), (-31.946446609, 31.946446609), (-32.3, 31.8))
            Line((-32.3, 31.8), (-37.7, 31.8))
            ThreePointArc((-37.7, 31.8), (-38.053553391, 31.946446609), (-38.2, 32.3))
            Line((-38.2, 32.3), (-38.2, 36))
            ThreePointArc((-38.2, 36), (-37.555634919, 37.555634919), (-36, 38.2))
        make_face(mode=Mode.SUBTRACT)
        with BuildLine():
            Line((-1.8, 36), (-1.8, 32.3))
            ThreePointArc((-1.8, 32.3), (-1.946446609, 31.946446609), (-2.3, 31.8))
            Line((-2.3, 31.8), (-7.7, 31.8))
            ThreePointArc((-7.7, 31.8), (-8.053553391, 31.946446609), (-8.2, 32.3))
            Line((-8.2, 32.3), (-8.2, 37.7))
            ThreePointArc((-8.2, 37.7), (-8.053553391, 38.053553391), (-7.7, 38.2))
            Line((-7.7, 38.2), (-4, 38.2))
            ThreePointArc((-4, 38.2), (-2.444365081, 37.555634919), (-1.8, 36))
        make_face(mode=Mode.SUBTRACT)
    extrude(amount=-BOSS_EXTRU_1_DEPTH)


solid = part.part
